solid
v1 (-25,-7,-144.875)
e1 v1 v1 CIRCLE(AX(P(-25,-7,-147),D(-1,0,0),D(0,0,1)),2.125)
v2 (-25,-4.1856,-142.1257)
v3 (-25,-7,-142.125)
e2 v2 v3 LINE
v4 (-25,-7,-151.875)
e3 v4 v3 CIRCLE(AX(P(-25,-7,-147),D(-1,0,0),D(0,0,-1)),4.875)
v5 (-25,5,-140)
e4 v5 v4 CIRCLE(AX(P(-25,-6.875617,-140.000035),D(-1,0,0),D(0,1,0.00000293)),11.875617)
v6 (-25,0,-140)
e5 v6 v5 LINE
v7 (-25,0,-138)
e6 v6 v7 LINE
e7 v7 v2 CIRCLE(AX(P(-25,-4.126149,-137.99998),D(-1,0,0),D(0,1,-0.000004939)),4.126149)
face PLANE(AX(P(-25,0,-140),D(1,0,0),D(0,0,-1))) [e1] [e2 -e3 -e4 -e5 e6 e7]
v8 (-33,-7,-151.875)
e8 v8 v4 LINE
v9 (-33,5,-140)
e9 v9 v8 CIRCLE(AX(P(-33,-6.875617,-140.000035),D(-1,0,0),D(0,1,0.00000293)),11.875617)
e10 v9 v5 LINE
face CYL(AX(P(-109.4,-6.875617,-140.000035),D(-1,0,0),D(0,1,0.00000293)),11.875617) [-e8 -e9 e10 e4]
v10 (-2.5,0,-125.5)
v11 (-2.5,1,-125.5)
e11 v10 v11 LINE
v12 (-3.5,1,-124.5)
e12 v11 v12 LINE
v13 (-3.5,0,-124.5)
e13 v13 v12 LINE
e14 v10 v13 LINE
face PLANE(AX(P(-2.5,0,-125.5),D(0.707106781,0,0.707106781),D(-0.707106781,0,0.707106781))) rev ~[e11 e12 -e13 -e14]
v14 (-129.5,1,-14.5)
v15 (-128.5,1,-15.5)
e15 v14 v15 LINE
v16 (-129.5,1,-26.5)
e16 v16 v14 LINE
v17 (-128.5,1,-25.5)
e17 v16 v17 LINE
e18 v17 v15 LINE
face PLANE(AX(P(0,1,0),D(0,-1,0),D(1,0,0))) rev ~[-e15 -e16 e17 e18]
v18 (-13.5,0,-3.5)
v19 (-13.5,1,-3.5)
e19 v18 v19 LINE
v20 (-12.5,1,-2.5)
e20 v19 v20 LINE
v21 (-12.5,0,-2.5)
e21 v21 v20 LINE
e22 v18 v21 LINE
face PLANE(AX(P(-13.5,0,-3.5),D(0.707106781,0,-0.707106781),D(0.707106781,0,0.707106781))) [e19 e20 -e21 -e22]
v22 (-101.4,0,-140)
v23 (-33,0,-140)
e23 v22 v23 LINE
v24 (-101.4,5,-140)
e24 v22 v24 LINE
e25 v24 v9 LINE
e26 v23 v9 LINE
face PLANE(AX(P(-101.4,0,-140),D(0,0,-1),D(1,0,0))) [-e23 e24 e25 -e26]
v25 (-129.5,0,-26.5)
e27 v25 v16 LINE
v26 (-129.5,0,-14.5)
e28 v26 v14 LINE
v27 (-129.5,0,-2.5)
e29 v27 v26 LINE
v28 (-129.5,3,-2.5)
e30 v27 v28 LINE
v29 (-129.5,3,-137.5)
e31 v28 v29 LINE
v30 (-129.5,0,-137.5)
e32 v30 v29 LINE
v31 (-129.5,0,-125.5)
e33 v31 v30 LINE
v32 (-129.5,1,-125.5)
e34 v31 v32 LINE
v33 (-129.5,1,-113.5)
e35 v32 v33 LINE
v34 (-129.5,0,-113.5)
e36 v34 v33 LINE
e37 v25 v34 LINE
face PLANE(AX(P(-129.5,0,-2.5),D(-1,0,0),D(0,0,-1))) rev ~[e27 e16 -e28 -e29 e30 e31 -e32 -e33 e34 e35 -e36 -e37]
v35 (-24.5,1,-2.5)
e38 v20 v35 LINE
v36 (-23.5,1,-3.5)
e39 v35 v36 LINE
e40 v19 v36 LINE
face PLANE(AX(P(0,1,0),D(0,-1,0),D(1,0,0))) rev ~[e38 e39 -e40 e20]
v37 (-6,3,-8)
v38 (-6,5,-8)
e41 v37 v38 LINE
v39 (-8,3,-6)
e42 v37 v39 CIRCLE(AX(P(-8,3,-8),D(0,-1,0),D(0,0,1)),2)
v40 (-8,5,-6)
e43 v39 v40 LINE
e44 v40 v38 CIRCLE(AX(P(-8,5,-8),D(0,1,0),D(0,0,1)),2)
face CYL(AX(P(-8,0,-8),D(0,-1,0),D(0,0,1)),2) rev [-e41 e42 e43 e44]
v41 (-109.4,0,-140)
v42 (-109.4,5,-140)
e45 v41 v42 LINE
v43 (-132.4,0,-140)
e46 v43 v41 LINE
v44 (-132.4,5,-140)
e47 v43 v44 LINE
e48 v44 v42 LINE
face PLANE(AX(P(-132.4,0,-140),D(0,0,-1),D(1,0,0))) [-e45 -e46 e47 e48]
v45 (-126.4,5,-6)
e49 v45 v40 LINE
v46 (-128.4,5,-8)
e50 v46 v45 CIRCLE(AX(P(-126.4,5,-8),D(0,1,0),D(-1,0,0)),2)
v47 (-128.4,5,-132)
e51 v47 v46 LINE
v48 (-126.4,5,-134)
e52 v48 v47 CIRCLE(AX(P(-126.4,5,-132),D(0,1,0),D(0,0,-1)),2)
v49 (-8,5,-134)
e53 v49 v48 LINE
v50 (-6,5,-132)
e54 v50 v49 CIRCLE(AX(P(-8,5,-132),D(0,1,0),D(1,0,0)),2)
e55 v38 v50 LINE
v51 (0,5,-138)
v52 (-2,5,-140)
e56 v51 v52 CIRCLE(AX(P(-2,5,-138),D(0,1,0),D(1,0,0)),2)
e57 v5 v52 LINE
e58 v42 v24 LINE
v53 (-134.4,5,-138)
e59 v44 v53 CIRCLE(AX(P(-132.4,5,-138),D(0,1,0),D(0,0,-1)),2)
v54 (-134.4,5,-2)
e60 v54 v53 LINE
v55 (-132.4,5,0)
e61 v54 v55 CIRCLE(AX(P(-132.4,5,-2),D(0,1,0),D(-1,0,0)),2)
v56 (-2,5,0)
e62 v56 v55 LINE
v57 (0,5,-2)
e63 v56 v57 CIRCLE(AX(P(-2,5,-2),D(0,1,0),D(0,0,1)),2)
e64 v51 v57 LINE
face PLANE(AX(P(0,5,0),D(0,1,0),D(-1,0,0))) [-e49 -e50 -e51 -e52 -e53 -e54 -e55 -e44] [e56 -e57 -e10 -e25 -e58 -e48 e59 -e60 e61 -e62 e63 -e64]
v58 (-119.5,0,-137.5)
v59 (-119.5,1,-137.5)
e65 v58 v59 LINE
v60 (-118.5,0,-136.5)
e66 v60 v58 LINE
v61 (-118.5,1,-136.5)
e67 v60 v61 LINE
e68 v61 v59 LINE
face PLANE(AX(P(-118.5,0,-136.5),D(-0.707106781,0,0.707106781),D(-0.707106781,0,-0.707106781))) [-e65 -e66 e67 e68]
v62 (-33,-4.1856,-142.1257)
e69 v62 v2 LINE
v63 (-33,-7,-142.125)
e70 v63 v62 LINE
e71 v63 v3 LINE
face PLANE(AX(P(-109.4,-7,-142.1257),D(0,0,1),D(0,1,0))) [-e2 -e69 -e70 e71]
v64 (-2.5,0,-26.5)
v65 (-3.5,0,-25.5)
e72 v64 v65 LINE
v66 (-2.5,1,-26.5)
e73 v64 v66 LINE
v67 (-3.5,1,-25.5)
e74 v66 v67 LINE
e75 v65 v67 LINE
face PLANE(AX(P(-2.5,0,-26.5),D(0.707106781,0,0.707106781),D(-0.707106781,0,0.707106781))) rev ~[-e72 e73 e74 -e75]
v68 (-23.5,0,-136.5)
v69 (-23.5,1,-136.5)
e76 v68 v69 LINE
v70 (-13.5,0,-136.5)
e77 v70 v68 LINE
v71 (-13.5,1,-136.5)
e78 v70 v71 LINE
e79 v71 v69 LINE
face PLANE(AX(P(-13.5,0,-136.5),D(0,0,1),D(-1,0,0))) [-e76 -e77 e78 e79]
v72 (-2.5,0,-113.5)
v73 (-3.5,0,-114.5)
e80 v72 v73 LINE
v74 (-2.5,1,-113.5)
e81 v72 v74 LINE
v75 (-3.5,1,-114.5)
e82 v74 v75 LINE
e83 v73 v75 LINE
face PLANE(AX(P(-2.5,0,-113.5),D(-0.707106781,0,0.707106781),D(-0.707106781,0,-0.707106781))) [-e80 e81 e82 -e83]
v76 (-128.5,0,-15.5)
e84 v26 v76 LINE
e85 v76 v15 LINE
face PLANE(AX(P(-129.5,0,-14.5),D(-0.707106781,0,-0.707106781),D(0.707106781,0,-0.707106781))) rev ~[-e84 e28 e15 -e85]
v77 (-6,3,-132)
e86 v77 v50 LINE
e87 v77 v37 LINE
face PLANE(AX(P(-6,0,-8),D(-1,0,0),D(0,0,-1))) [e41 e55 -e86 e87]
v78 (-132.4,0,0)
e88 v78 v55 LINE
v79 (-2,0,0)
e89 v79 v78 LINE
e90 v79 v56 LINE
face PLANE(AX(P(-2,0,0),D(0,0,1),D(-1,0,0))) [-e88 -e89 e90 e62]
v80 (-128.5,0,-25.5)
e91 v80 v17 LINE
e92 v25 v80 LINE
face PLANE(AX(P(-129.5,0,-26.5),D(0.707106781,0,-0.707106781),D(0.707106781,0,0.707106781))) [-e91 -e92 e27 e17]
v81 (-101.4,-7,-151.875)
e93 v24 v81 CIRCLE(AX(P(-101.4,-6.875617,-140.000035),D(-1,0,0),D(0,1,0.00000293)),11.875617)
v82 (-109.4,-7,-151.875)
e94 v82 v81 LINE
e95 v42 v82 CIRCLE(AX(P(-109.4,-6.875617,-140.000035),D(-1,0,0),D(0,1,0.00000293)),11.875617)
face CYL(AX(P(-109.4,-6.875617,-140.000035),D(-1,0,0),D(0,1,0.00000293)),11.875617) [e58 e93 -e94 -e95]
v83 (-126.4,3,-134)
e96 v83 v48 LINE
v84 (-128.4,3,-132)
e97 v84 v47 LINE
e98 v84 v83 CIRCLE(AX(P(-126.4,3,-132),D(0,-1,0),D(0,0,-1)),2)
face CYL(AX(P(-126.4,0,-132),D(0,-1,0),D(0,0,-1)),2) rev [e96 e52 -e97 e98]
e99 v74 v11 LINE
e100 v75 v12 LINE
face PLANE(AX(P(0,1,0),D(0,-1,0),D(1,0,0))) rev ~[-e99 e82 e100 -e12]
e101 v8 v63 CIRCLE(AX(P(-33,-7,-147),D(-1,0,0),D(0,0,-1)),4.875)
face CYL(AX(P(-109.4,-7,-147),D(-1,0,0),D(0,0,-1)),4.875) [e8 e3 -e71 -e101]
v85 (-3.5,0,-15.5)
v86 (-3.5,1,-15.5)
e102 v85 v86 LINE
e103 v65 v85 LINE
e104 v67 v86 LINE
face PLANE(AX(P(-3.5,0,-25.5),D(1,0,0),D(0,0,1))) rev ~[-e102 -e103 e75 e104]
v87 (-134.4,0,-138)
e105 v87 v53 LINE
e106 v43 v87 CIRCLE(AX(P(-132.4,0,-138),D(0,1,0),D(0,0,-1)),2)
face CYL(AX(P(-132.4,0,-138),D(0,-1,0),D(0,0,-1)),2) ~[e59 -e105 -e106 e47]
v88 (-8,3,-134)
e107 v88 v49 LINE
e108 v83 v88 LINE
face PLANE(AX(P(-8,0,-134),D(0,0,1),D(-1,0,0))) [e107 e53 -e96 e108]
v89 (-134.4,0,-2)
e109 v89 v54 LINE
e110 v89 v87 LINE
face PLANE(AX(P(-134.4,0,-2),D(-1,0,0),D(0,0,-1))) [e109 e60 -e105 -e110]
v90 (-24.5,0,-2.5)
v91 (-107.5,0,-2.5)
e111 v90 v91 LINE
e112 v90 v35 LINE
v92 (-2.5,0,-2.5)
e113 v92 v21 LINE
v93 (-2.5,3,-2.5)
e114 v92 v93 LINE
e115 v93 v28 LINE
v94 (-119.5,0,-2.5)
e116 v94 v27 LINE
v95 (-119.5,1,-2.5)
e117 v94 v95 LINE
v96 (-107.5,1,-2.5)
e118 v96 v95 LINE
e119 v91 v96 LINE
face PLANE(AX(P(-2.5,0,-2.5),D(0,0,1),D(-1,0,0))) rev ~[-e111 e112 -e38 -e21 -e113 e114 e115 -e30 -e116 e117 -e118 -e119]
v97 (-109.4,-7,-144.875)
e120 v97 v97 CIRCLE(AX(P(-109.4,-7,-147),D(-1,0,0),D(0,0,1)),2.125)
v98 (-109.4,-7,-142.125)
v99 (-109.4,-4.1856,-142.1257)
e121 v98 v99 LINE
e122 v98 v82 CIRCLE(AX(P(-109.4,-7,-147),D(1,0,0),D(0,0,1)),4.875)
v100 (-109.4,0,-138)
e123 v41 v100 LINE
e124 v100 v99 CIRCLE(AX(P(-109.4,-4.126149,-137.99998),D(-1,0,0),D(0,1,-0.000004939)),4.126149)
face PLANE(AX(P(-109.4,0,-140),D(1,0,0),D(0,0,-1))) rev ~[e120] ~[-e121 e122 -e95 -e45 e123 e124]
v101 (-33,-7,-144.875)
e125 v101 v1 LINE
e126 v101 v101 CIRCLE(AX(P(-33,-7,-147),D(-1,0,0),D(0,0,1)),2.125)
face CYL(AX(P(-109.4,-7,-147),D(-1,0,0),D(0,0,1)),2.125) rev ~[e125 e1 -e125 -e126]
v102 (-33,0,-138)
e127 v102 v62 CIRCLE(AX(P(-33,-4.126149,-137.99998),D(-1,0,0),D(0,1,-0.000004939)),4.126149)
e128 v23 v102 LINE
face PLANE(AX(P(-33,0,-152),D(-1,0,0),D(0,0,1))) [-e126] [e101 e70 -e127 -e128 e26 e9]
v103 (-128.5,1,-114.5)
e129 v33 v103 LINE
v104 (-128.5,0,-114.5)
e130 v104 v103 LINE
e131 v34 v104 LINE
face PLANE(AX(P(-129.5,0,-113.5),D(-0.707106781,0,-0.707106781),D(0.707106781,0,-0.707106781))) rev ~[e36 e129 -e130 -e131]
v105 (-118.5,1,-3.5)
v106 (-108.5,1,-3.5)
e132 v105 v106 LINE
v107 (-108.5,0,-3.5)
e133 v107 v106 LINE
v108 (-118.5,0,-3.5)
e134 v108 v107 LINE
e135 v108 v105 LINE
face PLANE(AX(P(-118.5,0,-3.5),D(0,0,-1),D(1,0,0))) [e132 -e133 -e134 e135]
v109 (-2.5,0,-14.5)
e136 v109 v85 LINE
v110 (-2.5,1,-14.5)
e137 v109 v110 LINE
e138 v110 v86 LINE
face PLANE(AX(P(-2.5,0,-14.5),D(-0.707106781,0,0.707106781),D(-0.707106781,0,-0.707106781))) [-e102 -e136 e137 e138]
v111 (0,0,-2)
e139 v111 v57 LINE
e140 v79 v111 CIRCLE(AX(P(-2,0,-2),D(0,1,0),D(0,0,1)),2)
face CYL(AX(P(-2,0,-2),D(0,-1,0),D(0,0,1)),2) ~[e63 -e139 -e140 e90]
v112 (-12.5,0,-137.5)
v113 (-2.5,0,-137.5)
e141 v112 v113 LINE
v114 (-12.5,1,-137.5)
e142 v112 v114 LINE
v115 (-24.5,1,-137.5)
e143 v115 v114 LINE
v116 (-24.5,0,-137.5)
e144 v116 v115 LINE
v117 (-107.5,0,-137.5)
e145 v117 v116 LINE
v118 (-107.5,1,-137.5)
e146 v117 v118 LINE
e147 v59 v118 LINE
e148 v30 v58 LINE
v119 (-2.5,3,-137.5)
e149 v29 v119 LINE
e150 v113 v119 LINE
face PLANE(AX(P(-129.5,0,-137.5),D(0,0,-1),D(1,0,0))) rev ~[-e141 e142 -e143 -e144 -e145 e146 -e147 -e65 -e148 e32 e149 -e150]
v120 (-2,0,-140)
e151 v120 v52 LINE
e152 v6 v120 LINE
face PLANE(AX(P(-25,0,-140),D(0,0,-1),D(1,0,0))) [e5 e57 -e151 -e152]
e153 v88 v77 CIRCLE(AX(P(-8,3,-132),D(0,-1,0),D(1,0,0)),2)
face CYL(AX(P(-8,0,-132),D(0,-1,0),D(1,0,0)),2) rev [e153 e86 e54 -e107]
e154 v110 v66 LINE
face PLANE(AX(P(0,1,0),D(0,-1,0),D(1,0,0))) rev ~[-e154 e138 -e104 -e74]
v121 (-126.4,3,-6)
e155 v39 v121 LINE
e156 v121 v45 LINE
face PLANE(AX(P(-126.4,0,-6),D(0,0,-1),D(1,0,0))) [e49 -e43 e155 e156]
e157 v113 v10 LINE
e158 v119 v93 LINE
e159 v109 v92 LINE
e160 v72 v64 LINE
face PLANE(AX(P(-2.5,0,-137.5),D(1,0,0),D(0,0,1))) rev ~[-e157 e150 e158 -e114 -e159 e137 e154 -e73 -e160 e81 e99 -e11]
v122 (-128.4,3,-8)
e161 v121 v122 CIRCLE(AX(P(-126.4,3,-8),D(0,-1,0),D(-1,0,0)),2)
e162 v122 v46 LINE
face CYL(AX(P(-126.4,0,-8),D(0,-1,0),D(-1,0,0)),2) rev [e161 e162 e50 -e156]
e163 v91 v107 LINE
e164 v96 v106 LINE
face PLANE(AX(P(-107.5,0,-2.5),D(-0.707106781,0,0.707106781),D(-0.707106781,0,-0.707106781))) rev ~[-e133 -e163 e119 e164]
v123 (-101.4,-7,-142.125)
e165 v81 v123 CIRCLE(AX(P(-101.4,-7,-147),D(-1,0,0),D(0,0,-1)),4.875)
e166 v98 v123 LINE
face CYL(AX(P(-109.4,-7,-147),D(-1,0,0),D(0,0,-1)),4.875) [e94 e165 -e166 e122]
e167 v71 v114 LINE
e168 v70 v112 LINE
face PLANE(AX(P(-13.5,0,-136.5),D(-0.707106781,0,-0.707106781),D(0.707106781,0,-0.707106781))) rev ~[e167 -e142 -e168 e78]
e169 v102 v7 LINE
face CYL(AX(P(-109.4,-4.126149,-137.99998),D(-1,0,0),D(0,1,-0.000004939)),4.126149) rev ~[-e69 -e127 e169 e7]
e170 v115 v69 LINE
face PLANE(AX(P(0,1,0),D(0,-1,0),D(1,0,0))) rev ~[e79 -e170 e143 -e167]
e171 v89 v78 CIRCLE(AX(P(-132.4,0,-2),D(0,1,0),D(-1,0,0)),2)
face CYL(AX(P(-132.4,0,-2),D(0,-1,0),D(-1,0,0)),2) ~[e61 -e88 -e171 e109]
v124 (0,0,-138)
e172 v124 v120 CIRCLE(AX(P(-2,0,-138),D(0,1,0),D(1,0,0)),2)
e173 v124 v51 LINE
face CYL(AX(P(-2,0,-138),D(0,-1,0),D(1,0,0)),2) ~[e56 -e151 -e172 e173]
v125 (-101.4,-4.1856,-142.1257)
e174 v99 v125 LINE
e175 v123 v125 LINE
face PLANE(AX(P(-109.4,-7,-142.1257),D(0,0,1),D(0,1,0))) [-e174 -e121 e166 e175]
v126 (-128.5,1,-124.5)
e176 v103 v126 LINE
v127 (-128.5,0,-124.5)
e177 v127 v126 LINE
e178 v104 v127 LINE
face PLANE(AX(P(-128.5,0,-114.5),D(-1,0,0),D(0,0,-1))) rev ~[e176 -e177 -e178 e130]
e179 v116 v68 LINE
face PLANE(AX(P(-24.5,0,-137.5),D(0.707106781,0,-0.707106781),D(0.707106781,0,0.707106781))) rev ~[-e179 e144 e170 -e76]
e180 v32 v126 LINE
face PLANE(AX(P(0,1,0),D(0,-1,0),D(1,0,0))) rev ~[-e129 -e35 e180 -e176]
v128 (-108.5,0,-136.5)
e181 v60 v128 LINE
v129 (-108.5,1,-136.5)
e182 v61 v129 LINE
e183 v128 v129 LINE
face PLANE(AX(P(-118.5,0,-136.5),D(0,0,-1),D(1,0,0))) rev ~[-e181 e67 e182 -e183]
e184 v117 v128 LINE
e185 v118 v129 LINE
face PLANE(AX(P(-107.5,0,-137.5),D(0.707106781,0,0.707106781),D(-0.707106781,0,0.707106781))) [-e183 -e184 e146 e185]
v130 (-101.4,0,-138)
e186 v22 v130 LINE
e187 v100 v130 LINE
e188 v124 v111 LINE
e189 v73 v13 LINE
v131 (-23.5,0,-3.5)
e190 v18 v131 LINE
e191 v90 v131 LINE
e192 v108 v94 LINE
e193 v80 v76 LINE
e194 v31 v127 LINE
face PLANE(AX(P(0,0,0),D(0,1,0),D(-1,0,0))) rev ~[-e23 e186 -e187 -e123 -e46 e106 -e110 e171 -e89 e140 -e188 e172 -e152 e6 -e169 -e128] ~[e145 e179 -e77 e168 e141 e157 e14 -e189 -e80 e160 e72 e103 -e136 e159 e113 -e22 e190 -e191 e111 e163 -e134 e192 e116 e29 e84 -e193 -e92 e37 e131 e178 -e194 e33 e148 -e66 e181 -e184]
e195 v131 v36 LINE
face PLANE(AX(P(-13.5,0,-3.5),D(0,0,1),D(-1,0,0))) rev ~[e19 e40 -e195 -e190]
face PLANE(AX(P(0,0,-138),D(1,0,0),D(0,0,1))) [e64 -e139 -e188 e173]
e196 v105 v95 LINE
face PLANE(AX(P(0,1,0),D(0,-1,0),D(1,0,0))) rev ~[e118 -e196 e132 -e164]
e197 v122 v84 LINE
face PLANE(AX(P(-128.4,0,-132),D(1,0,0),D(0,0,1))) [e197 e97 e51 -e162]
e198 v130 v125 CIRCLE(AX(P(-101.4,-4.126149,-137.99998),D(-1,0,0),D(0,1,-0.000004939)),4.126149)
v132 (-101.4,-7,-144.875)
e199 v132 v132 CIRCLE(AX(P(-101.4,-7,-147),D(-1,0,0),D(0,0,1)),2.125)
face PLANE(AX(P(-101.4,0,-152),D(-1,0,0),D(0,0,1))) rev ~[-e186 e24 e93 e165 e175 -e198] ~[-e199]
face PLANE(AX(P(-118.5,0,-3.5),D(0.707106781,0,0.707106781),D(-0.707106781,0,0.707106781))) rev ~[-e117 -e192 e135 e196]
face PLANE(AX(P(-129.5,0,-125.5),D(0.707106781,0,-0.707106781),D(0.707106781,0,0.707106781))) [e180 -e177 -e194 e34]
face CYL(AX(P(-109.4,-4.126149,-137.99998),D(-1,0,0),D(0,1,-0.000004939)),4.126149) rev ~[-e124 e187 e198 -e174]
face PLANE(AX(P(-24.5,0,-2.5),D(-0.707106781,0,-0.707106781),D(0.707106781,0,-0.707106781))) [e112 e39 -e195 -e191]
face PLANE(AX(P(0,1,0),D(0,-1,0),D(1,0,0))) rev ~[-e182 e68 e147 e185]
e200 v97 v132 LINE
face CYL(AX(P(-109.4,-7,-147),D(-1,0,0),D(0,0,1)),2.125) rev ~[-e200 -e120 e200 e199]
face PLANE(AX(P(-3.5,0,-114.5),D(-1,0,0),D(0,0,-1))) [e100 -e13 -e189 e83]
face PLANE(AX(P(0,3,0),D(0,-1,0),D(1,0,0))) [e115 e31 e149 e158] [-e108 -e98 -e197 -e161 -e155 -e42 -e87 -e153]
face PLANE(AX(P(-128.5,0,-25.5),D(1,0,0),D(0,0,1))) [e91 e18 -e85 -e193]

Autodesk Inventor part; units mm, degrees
ref_plane "YZ Plane" through (0, 0, 0) normal (1, 0, 0) x (0, 1, 0)
ref_plane "XZ Plane" through (0, 0, 0) normal (0, 1, 0) x (-1, 0, 0)
ref_plane "XY Plane" through (0, 0, 0) normal (0, 0, 1) x (1, 0, 0)
sketch "Boceto1" plane through (0, 0, 0) normal (0, 1, 0) x (-1, 0, 0)
  line L0 (2, 0) -> (132.4, 0)
  line L1 (134.4, -2) -> (134.4, -138)
  line L2 (132.4, -140) -> (2, -140)
  line L3 (0, -138) -> (0, -2)
  arc A0 (134.4, -2) -> (132.4, 0) centre (132.4, -2) ccw
  arc A1 (132.4, -140) -> (134.4, -138) centre (132.4, -138) ccw
  arc A2 (0, -138) -> (2, -140) centre (2, -138) ccw
  arc A3 (2, 0) -> (0, -2) centre (2, -2) ccw
  line L4 (126.4, -6) -> (8, -6)
  line L5 (6, -8) -> (6, -132)
  line L6 (8, -134) -> (126.4, -134)
  line L7 (128.4, -132) -> (128.4, -8)
  arc A4 (8, -6) -> (6, -8) centre (8, -8) ccw
  arc A5 (6, -132) -> (8, -134) centre (8, -132) ccw
  arc A6 (126.4, -134) -> (128.4, -132) centre (126.4, -132) ccw
  arc A7 (128.4, -8) -> (126.4, -6) centre (126.4, -8) ccw
  line L8 (67.2, -140) -> (67.2, 0) construction
  line L9 (134.4, -140) -> (109.4, -140) construction
  line L10 (109.4, -140) -> (101.4, -140) construction
  line L11 (101.4, -140) -> (101.4, -152)
  line L12 (101.4, -152) -> (109.4, -152)
  line L13 (109.4, -152) -> (109.4, -140)
  line L14 (0, -140) -> (25, -140) construction
  line L15 (25, -140) -> (33, -140) construction
  line L16 (33, -140) -> (33, -152)
  line L17 (33, -152) -> (25, -152)
  line L18 (25, -152) -> (25, -140)
  point P0 (0, 0)
  point P1 (134.4, 0)
  point P2 (25, -140)
  point P3 (101.4, -140)
  dimension "d0" = 134.4
  dimension "d1" = 140
  dimension "d2" = 2
  dimension "d3" = 6
  dimension "d4" = 2
  dimension "d7" = 25
  dimension "d8" = 8
  dimension "d9" = 12
extrude "Extrusión1" add sketch "Boceto1" along normal blind 5
sketch "Boceto2" plane through (0, 0, 0) normal (0, -1, 0) x (1, 0, 0)
  line L0 (-25, -140) -> (-25, -152) projected
  line L1 (-33, -140) -> (-101.4, -140) projected
  line L2 (-25, -152) -> (-33, -152)
  line L3 (-33, -152) -> (-33, -140)
  line L4 (-33, -140) -> (-25, -140)
  line L5 (-25, -140) -> (-25, -152)
  line L6 (-101.4, -152) -> (-109.4, -152) projected
  line L7 (-109.4, -152) -> (-101.4, -152)
  line L8 (-101.4, -152) -> (-101.4, -140)
  line L9 (-101.4, -140) -> (-109.4, -140)
  line L10 (-109.4, -140) -> (-109.4, -152)
  line L11 (-109.4, -140) -> (-101.4, -140)
  line L12 (-101.4, -140) -> (-101.4, -136)
  line L13 (-101.4, -136) -> (-109.4, -136)
  line L14 (-109.4, -136) -> (-109.4, -140)
  line L15 (-33, -140) -> (-25, -140)
  line L16 (-25, -140) -> (-25, -136)
  line L17 (-25, -136) -> (-33, -136)
  line L18 (-33, -136) -> (-33, -140)
  point P0 (0, 0)
  dimension "d18" = 4
  dimension "d19" = 8
  dimension "d20" = 4
extrude "Extrusión2" add sketch "Boceto2" along normal blind 18
sketch "Boceto3" plane through (-109.4, 5, -152) normal (-1, 0, 0) x (0, 0, 1)
  line L0 (14, -5) -> (12, -5) construction
  line L1 (0, -23) -> (0, 0) projected
  line L2 (12, -5) -> (0, -5) construction
  line L3 (0, -5) -> (0, -12) construction
  line L4 (12, -12) -> (12, -5) construction
  circle A0 centre (5, -12) radius 2.125
  circle A1 centre (5, -12) radius 4.875 construction
  arc A2 (0.125, -12) -> (9.875, -12) centre (5, -12) ccw
  line L5 (0.125, -12) -> (0.125, 0) construction
  line L6 (12, 0) -> (0, 0) construction
  line L7 (12, -5) -> (12, 0) construction
  line L8 (9.8743, -12.0803) -> (9.8743, -5) construction
  line L9 (12, -5) -> (5, -5) construction
  line L10 (5, -5) -> (5, -12) construction
  line L11 (5, -12) -> (12, -12) construction
  line L12 (12, -12) -> (12, -5) construction
  line L13 (14, -5) -> (14, -23) construction
  line L14 (16, -23) -> (0, -23) projected
  line L15 (12, -5) -> (14, -5) construction
  line L16 (14, -5) -> (14, -7) construction
  line L17 (14, -7) -> (12, -7) construction
  line L18 (12, -7) -> (12, -5) construction
  arc A3 (14, -5) -> (12, -7) centre (14, -7) ccw construction
  line L19 (14, 0) -> (150, 0) projected
  line L20 (12, 0) -> (14, 0)
  arc A4 (12, 0) -> (0.125, -12) centre (12, -11.8757) ccw
  line L21 (14, -5) -> (16, -5)
  arc A5 (14, -5) -> (9.8743, -9.1856) centre (14, -9.1261) ccw
  line L22 (9.8743, -12.0803) -> (9.8743, -9.1856)
  line L23 (0.125, 0) -> (14, 0)
  line L24 (14, 0) -> (14, -23)
  line L25 (14, -23) -> (0, -23)
  line L26 (16, -23) -> (14, -23)
  line L27 (14, -23) -> (14, -5)
  line L28 (14, -5) -> (16, -5)
  line L29 (16, -5) -> (16, -23)
  line L30 (0.125, 0) -> (-6.5711, 0)
  line L31 (-6.5711, 0) -> (-6.5711, -23)
  line L32 (-6.5711, -23) -> (16, -23)
  point P0 (152, -5)
  point P1 (9.8743, -9.1856)
  point P2 (9.8743, -12.0803)
  point P3 (0, -10.3846)
  point P4 (0, -13.125)
  point P5 (12, 0)
  point P6 (0, 0)
  point P7 (14, -5)
  point P8 (14, -5)
  dimension "d13" = 4.25
  dimension "d14" = 2.75
  dimension "d16" = 7
  dimension "d17" = 7
  dimension "d21" = 2
extrude "Extrusión3" cut sketch "Boceto3" against normal blind 150 contours L1 L30 L23 A4 A2 L22 A5 L24 L14 | L24 L21 L29 L14 | A0
sketch "Boceto4" plane through (0, 0, 0) normal (0, -1, 0) x (1, 0, 0)
  line L0 (0, 0) -> (-132, 0)
  line L1 (-132, 0) -> (-132, -140)
  line L2 (-132, -140) -> (0, -140)
  line L3 (0, -140) -> (0, 0)
  line L4 (-2.5, -2.5) -> (-129.5, -2.5)
  line L5 (-129.5, -2.5) -> (-129.5, -137.5)
  line L6 (-129.5, -137.5) -> (-2.5, -137.5)
  line L7 (-2.5, -137.5) -> (-2.5, -2.5)
  dimension "d27" = 132
  dimension "d28" = 140
  dimension "d29" = 2.5
extrude "Extrusión4" cut sketch "Boceto4" against normal blind 3 contours L7 L6 L5 L4
sketch "Boceto5" plane through (0, 0, 0) normal (0, -1, 0) x (1, 0, 0)
  line L0 (-129.5, -137.5) -> (-129.5, -2.5) projected
  line L1 (-2.5, -2.5) -> (-2.5, -137.5) projected
  line L2 (-129.5, -137.5) -> (-2.5, -137.5)
  line L3 (-2.5, -137.5) -> (-2.5, -2.5)
  line L4 (-2.5, -2.5) -> (-129.5, -2.5)
  line L5 (-129.5, -2.5) -> (-129.5, -137.5)
  line L6 (-2.5, -137.5) -> (-129.5, -137.5) projected
  line L7 (-66, -137.5) -> (-66, -2.5) construction
  line L8 (-33, -140) -> (-101.4, -140) construction
  line L9 (-2.5, -70) -> (-129.5, -70) construction
  line L10 (-118.5, -137.5) -> (-107.5, -137.5) construction
  line L11 (-118.5, -137.5) -> (-108.5, -137.5) construction
  line L12 (-108.5, -137.5) -> (-108.5, -136.5) construction
  line L13 (-108.5, -136.5) -> (-118.5, -136.5) construction
  line L14 (-118.5, -136.5) -> (-118.5, -137.5) construction
  line L15 (-118.5, -137.5) -> (-119.5, -137.5) construction
  line L16 (-119.5, -137.5) -> (-118.5, -136.5) construction
  line L17 (-108.5, -137.5) -> (-107.5, -137.5) construction
  line L18 (-107.5, -137.5) -> (-108.5, -136.5) construction
  line L19 (-107.5, -137.5) -> (-108.5, -136.5)
  line L20 (-118.5, -136.5) -> (-119.5, -137.5)
  line L21 (-118.5, -136.5) -> (-108.5, -136.5)
  line L22 (-129.5, -124.5) -> (-128.5, -124.5) construction
  line L23 (-128.5, -124.5) -> (-128.5, -114.5) construction
  line L24 (-128.5, -114.5) -> (-129.5, -114.5) construction
  line L25 (-129.5, -114.5) -> (-129.5, -124.5) construction
  line L26 (-129.5, -124.5) -> (-129.5, -125.5) construction
  line L27 (-129.5, -125.5) -> (-128.5, -124.5) construction
  line L28 (-129.5, -114.5) -> (-129.5, -113.5) construction
  line L29 (-129.5, -113.5) -> (-128.5, -114.5) construction
  line L30 (-129.5, -125.5) -> (-128.5, -124.5)
  line L31 (-128.5, -114.5) -> (-128.5, -124.5)
  line L32 (-129.5, -113.5) -> (-128.5, -114.5)
  line L33 (-107.5, -137.5) -> (-119.5, -137.5)
  line L34 (-129.5, -125.5) -> (-129.5, -113.5)
  line L35 (-118.5, -2.5) -> (-107.5, -2.5) construction
  line L36 (-118.5, -2.5) -> (-108.5, -2.5) construction
  line L37 (-108.5, -2.5) -> (-108.5, -3.5) construction
  line L38 (-108.5, -3.5) -> (-118.5, -3.5) construction
  line L39 (-118.5, -3.5) -> (-118.5, -2.5) construction
  line L40 (-118.5, -2.5) -> (-119.5, -2.5) construction
  line L41 (-119.5, -2.5) -> (-118.5, -3.5) construction
  line L42 (-108.5, -2.5) -> (-107.5, -2.5) construction
  line L43 (-107.5, -2.5) -> (-108.5, -3.5) construction
  line L44 (-107.5, -2.5) -> (-108.5, -3.5)
  line L45 (-118.5, -3.5) -> (-119.5, -2.5)
  line L46 (-118.5, -3.5) -> (-108.5, -3.5)
  line L47 (-129.5, -15.5) -> (-128.5, -15.5) construction
  line L48 (-128.5, -15.5) -> (-128.5, -25.5) construction
  line L49 (-128.5, -25.5) -> (-129.5, -25.5) construction
  line L50 (-129.5, -25.5) -> (-129.5, -15.5) construction
  line L51 (-129.5, -15.5) -> (-129.5, -14.5) construction
  line L52 (-129.5, -14.5) -> (-128.5, -15.5) construction
  line L53 (-129.5, -25.5) -> (-129.5, -26.5) construction
  line L54 (-129.5, -26.5) -> (-128.5, -25.5) construction
  line L55 (-129.5, -14.5) -> (-128.5, -15.5)
  line L56 (-128.5, -25.5) -> (-128.5, -15.5)
  line L57 (-129.5, -26.5) -> (-128.5, -25.5)
  line L58 (-107.5, -2.5) -> (-119.5, -2.5)
  line L59 (-129.5, -14.5) -> (-129.5, -26.5)
  line L60 (-2.5, -137.5) -> (-2.5, -2.5)
  line L61 (-2.5, -2.5) -> (-2.5, -137.5)
  line L62 (-13.5, -137.5) -> (-24.5, -137.5) construction
  line L63 (-13.5, -137.5) -> (-23.5, -137.5) construction
  line L64 (-23.5, -137.5) -> (-23.5, -136.5) construction
  line L65 (-23.5, -136.5) -> (-13.5, -136.5) construction
  line L66 (-13.5, -136.5) -> (-13.5, -137.5) construction
  line L67 (-13.5, -137.5) -> (-12.5, -137.5) construction
  line L68 (-12.5, -137.5) -> (-13.5, -136.5) construction
  line L69 (-23.5, -137.5) -> (-24.5, -137.5) construction
  line L70 (-24.5, -137.5) -> (-23.5, -136.5) construction
  line L71 (-24.5, -137.5) -> (-23.5, -136.5)
  line L72 (-13.5, -136.5) -> (-12.5, -137.5)
  line L73 (-13.5, -136.5) -> (-23.5, -136.5)
  line L74 (-2.5, -124.5) -> (-3.5, -124.5) construction
  line L75 (-3.5, -124.5) -> (-3.5, -114.5) construction
  line L76 (-3.5, -114.5) -> (-2.5, -114.5) construction
  line L77 (-2.5, -114.5) -> (-2.5, -124.5) construction
  line L78 (-2.5, -124.5) -> (-2.5, -125.5) construction
  line L79 (-2.5, -125.5) -> (-3.5, -124.5) construction
  line L80 (-2.5, -114.5) -> (-2.5, -113.5) construction
  line L81 (-2.5, -113.5) -> (-3.5, -114.5) construction
  line L82 (-2.5, -125.5) -> (-3.5, -124.5)
  line L83 (-3.5, -114.5) -> (-3.5, -124.5)
  line L84 (-2.5, -113.5) -> (-3.5, -114.5)
  line L85 (-24.5, -137.5) -> (-12.5, -137.5)
  line L86 (-2.5, -125.5) -> (-2.5, -113.5)
  line L87 (-3.5, -25.5) -> (-2.5, -25.5) construction
  line L88 (-2.5, -26.5) -> (-3.5, -25.5) construction
  line L89 (-2.5, -26.5) -> (-3.5, -25.5)
  line L90 (-2.5, -15.5) -> (-3.5, -15.5) construction
  line L91 (-2.5, -25.5) -> (-2.5, -15.5) construction
  line L92 (-2.5, -14.5) -> (-3.5, -15.5) construction
  line L93 (-2.5, -14.5) -> (-3.5, -15.5)
  line L94 (-2.5, -14.5) -> (-2.5, -26.5)
  line L95 (-2.5, -25.5) -> (-2.5, -26.5) construction
  line L96 (-3.5, -15.5) -> (-3.5, -25.5) construction
  line L97 (-3.5, -25.5) -> (-3.5, -15.5)
  line L98 (-2.5, -15.5) -> (-2.5, -14.5) construction
  line L99 (-13.5, -2.5) -> (-24.5, -2.5) construction
  line L100 (-13.5, -2.5) -> (-12.5, -2.5) construction
  line L101 (-12.5, -2.5) -> (-13.5, -3.5) construction
  line L102 (-13.5, -3.5) -> (-12.5, -2.5)
  line L103 (-23.5, -3.5) -> (-13.5, -3.5) construction
  line L104 (-13.5, -3.5) -> (-23.5, -3.5)
  line L105 (-13.5, -2.5) -> (-23.5, -2.5) construction
  line L106 (-23.5, -2.5) -> (-23.5, -3.5) construction
  line L107 (-24.5, -2.5) -> (-12.5, -2.5)
  line L108 (-23.5, -2.5) -> (-24.5, -2.5) construction
  line L109 (-24.5, -2.5) -> (-23.5, -3.5) construction
  line L110 (-24.5, -2.5) -> (-23.5, -3.5)
  line L111 (-13.5, -3.5) -> (-13.5, -2.5) construction
  point P0 (0, 0)
  point P1 (-101.4, 0)
  point P2 (-30.6, 0)
  dimension "d32" = 11
  dimension "d33" = 13
  dimension "d36" = 10
  dimension "d37" = 1
  dimension "d38" = 1
  dimension "d40" = 1
  dimension "d41" = 1
  dimension "d42" = 10
  dimension "d43" = 1
  dimension "d44" = 1
extrude "Extrusión5" add sketch "Boceto5" against normal blind 1 contours L0 L32 L31 L30 | L20 L21 L19 L2 | L0 L55 L56 L57 | L71 L73 L72 L2 | L4 L44 L46 L45 | L82 L83 L84 L1 | L4 L102 L104 L110 | L89 L97 L93 L1
